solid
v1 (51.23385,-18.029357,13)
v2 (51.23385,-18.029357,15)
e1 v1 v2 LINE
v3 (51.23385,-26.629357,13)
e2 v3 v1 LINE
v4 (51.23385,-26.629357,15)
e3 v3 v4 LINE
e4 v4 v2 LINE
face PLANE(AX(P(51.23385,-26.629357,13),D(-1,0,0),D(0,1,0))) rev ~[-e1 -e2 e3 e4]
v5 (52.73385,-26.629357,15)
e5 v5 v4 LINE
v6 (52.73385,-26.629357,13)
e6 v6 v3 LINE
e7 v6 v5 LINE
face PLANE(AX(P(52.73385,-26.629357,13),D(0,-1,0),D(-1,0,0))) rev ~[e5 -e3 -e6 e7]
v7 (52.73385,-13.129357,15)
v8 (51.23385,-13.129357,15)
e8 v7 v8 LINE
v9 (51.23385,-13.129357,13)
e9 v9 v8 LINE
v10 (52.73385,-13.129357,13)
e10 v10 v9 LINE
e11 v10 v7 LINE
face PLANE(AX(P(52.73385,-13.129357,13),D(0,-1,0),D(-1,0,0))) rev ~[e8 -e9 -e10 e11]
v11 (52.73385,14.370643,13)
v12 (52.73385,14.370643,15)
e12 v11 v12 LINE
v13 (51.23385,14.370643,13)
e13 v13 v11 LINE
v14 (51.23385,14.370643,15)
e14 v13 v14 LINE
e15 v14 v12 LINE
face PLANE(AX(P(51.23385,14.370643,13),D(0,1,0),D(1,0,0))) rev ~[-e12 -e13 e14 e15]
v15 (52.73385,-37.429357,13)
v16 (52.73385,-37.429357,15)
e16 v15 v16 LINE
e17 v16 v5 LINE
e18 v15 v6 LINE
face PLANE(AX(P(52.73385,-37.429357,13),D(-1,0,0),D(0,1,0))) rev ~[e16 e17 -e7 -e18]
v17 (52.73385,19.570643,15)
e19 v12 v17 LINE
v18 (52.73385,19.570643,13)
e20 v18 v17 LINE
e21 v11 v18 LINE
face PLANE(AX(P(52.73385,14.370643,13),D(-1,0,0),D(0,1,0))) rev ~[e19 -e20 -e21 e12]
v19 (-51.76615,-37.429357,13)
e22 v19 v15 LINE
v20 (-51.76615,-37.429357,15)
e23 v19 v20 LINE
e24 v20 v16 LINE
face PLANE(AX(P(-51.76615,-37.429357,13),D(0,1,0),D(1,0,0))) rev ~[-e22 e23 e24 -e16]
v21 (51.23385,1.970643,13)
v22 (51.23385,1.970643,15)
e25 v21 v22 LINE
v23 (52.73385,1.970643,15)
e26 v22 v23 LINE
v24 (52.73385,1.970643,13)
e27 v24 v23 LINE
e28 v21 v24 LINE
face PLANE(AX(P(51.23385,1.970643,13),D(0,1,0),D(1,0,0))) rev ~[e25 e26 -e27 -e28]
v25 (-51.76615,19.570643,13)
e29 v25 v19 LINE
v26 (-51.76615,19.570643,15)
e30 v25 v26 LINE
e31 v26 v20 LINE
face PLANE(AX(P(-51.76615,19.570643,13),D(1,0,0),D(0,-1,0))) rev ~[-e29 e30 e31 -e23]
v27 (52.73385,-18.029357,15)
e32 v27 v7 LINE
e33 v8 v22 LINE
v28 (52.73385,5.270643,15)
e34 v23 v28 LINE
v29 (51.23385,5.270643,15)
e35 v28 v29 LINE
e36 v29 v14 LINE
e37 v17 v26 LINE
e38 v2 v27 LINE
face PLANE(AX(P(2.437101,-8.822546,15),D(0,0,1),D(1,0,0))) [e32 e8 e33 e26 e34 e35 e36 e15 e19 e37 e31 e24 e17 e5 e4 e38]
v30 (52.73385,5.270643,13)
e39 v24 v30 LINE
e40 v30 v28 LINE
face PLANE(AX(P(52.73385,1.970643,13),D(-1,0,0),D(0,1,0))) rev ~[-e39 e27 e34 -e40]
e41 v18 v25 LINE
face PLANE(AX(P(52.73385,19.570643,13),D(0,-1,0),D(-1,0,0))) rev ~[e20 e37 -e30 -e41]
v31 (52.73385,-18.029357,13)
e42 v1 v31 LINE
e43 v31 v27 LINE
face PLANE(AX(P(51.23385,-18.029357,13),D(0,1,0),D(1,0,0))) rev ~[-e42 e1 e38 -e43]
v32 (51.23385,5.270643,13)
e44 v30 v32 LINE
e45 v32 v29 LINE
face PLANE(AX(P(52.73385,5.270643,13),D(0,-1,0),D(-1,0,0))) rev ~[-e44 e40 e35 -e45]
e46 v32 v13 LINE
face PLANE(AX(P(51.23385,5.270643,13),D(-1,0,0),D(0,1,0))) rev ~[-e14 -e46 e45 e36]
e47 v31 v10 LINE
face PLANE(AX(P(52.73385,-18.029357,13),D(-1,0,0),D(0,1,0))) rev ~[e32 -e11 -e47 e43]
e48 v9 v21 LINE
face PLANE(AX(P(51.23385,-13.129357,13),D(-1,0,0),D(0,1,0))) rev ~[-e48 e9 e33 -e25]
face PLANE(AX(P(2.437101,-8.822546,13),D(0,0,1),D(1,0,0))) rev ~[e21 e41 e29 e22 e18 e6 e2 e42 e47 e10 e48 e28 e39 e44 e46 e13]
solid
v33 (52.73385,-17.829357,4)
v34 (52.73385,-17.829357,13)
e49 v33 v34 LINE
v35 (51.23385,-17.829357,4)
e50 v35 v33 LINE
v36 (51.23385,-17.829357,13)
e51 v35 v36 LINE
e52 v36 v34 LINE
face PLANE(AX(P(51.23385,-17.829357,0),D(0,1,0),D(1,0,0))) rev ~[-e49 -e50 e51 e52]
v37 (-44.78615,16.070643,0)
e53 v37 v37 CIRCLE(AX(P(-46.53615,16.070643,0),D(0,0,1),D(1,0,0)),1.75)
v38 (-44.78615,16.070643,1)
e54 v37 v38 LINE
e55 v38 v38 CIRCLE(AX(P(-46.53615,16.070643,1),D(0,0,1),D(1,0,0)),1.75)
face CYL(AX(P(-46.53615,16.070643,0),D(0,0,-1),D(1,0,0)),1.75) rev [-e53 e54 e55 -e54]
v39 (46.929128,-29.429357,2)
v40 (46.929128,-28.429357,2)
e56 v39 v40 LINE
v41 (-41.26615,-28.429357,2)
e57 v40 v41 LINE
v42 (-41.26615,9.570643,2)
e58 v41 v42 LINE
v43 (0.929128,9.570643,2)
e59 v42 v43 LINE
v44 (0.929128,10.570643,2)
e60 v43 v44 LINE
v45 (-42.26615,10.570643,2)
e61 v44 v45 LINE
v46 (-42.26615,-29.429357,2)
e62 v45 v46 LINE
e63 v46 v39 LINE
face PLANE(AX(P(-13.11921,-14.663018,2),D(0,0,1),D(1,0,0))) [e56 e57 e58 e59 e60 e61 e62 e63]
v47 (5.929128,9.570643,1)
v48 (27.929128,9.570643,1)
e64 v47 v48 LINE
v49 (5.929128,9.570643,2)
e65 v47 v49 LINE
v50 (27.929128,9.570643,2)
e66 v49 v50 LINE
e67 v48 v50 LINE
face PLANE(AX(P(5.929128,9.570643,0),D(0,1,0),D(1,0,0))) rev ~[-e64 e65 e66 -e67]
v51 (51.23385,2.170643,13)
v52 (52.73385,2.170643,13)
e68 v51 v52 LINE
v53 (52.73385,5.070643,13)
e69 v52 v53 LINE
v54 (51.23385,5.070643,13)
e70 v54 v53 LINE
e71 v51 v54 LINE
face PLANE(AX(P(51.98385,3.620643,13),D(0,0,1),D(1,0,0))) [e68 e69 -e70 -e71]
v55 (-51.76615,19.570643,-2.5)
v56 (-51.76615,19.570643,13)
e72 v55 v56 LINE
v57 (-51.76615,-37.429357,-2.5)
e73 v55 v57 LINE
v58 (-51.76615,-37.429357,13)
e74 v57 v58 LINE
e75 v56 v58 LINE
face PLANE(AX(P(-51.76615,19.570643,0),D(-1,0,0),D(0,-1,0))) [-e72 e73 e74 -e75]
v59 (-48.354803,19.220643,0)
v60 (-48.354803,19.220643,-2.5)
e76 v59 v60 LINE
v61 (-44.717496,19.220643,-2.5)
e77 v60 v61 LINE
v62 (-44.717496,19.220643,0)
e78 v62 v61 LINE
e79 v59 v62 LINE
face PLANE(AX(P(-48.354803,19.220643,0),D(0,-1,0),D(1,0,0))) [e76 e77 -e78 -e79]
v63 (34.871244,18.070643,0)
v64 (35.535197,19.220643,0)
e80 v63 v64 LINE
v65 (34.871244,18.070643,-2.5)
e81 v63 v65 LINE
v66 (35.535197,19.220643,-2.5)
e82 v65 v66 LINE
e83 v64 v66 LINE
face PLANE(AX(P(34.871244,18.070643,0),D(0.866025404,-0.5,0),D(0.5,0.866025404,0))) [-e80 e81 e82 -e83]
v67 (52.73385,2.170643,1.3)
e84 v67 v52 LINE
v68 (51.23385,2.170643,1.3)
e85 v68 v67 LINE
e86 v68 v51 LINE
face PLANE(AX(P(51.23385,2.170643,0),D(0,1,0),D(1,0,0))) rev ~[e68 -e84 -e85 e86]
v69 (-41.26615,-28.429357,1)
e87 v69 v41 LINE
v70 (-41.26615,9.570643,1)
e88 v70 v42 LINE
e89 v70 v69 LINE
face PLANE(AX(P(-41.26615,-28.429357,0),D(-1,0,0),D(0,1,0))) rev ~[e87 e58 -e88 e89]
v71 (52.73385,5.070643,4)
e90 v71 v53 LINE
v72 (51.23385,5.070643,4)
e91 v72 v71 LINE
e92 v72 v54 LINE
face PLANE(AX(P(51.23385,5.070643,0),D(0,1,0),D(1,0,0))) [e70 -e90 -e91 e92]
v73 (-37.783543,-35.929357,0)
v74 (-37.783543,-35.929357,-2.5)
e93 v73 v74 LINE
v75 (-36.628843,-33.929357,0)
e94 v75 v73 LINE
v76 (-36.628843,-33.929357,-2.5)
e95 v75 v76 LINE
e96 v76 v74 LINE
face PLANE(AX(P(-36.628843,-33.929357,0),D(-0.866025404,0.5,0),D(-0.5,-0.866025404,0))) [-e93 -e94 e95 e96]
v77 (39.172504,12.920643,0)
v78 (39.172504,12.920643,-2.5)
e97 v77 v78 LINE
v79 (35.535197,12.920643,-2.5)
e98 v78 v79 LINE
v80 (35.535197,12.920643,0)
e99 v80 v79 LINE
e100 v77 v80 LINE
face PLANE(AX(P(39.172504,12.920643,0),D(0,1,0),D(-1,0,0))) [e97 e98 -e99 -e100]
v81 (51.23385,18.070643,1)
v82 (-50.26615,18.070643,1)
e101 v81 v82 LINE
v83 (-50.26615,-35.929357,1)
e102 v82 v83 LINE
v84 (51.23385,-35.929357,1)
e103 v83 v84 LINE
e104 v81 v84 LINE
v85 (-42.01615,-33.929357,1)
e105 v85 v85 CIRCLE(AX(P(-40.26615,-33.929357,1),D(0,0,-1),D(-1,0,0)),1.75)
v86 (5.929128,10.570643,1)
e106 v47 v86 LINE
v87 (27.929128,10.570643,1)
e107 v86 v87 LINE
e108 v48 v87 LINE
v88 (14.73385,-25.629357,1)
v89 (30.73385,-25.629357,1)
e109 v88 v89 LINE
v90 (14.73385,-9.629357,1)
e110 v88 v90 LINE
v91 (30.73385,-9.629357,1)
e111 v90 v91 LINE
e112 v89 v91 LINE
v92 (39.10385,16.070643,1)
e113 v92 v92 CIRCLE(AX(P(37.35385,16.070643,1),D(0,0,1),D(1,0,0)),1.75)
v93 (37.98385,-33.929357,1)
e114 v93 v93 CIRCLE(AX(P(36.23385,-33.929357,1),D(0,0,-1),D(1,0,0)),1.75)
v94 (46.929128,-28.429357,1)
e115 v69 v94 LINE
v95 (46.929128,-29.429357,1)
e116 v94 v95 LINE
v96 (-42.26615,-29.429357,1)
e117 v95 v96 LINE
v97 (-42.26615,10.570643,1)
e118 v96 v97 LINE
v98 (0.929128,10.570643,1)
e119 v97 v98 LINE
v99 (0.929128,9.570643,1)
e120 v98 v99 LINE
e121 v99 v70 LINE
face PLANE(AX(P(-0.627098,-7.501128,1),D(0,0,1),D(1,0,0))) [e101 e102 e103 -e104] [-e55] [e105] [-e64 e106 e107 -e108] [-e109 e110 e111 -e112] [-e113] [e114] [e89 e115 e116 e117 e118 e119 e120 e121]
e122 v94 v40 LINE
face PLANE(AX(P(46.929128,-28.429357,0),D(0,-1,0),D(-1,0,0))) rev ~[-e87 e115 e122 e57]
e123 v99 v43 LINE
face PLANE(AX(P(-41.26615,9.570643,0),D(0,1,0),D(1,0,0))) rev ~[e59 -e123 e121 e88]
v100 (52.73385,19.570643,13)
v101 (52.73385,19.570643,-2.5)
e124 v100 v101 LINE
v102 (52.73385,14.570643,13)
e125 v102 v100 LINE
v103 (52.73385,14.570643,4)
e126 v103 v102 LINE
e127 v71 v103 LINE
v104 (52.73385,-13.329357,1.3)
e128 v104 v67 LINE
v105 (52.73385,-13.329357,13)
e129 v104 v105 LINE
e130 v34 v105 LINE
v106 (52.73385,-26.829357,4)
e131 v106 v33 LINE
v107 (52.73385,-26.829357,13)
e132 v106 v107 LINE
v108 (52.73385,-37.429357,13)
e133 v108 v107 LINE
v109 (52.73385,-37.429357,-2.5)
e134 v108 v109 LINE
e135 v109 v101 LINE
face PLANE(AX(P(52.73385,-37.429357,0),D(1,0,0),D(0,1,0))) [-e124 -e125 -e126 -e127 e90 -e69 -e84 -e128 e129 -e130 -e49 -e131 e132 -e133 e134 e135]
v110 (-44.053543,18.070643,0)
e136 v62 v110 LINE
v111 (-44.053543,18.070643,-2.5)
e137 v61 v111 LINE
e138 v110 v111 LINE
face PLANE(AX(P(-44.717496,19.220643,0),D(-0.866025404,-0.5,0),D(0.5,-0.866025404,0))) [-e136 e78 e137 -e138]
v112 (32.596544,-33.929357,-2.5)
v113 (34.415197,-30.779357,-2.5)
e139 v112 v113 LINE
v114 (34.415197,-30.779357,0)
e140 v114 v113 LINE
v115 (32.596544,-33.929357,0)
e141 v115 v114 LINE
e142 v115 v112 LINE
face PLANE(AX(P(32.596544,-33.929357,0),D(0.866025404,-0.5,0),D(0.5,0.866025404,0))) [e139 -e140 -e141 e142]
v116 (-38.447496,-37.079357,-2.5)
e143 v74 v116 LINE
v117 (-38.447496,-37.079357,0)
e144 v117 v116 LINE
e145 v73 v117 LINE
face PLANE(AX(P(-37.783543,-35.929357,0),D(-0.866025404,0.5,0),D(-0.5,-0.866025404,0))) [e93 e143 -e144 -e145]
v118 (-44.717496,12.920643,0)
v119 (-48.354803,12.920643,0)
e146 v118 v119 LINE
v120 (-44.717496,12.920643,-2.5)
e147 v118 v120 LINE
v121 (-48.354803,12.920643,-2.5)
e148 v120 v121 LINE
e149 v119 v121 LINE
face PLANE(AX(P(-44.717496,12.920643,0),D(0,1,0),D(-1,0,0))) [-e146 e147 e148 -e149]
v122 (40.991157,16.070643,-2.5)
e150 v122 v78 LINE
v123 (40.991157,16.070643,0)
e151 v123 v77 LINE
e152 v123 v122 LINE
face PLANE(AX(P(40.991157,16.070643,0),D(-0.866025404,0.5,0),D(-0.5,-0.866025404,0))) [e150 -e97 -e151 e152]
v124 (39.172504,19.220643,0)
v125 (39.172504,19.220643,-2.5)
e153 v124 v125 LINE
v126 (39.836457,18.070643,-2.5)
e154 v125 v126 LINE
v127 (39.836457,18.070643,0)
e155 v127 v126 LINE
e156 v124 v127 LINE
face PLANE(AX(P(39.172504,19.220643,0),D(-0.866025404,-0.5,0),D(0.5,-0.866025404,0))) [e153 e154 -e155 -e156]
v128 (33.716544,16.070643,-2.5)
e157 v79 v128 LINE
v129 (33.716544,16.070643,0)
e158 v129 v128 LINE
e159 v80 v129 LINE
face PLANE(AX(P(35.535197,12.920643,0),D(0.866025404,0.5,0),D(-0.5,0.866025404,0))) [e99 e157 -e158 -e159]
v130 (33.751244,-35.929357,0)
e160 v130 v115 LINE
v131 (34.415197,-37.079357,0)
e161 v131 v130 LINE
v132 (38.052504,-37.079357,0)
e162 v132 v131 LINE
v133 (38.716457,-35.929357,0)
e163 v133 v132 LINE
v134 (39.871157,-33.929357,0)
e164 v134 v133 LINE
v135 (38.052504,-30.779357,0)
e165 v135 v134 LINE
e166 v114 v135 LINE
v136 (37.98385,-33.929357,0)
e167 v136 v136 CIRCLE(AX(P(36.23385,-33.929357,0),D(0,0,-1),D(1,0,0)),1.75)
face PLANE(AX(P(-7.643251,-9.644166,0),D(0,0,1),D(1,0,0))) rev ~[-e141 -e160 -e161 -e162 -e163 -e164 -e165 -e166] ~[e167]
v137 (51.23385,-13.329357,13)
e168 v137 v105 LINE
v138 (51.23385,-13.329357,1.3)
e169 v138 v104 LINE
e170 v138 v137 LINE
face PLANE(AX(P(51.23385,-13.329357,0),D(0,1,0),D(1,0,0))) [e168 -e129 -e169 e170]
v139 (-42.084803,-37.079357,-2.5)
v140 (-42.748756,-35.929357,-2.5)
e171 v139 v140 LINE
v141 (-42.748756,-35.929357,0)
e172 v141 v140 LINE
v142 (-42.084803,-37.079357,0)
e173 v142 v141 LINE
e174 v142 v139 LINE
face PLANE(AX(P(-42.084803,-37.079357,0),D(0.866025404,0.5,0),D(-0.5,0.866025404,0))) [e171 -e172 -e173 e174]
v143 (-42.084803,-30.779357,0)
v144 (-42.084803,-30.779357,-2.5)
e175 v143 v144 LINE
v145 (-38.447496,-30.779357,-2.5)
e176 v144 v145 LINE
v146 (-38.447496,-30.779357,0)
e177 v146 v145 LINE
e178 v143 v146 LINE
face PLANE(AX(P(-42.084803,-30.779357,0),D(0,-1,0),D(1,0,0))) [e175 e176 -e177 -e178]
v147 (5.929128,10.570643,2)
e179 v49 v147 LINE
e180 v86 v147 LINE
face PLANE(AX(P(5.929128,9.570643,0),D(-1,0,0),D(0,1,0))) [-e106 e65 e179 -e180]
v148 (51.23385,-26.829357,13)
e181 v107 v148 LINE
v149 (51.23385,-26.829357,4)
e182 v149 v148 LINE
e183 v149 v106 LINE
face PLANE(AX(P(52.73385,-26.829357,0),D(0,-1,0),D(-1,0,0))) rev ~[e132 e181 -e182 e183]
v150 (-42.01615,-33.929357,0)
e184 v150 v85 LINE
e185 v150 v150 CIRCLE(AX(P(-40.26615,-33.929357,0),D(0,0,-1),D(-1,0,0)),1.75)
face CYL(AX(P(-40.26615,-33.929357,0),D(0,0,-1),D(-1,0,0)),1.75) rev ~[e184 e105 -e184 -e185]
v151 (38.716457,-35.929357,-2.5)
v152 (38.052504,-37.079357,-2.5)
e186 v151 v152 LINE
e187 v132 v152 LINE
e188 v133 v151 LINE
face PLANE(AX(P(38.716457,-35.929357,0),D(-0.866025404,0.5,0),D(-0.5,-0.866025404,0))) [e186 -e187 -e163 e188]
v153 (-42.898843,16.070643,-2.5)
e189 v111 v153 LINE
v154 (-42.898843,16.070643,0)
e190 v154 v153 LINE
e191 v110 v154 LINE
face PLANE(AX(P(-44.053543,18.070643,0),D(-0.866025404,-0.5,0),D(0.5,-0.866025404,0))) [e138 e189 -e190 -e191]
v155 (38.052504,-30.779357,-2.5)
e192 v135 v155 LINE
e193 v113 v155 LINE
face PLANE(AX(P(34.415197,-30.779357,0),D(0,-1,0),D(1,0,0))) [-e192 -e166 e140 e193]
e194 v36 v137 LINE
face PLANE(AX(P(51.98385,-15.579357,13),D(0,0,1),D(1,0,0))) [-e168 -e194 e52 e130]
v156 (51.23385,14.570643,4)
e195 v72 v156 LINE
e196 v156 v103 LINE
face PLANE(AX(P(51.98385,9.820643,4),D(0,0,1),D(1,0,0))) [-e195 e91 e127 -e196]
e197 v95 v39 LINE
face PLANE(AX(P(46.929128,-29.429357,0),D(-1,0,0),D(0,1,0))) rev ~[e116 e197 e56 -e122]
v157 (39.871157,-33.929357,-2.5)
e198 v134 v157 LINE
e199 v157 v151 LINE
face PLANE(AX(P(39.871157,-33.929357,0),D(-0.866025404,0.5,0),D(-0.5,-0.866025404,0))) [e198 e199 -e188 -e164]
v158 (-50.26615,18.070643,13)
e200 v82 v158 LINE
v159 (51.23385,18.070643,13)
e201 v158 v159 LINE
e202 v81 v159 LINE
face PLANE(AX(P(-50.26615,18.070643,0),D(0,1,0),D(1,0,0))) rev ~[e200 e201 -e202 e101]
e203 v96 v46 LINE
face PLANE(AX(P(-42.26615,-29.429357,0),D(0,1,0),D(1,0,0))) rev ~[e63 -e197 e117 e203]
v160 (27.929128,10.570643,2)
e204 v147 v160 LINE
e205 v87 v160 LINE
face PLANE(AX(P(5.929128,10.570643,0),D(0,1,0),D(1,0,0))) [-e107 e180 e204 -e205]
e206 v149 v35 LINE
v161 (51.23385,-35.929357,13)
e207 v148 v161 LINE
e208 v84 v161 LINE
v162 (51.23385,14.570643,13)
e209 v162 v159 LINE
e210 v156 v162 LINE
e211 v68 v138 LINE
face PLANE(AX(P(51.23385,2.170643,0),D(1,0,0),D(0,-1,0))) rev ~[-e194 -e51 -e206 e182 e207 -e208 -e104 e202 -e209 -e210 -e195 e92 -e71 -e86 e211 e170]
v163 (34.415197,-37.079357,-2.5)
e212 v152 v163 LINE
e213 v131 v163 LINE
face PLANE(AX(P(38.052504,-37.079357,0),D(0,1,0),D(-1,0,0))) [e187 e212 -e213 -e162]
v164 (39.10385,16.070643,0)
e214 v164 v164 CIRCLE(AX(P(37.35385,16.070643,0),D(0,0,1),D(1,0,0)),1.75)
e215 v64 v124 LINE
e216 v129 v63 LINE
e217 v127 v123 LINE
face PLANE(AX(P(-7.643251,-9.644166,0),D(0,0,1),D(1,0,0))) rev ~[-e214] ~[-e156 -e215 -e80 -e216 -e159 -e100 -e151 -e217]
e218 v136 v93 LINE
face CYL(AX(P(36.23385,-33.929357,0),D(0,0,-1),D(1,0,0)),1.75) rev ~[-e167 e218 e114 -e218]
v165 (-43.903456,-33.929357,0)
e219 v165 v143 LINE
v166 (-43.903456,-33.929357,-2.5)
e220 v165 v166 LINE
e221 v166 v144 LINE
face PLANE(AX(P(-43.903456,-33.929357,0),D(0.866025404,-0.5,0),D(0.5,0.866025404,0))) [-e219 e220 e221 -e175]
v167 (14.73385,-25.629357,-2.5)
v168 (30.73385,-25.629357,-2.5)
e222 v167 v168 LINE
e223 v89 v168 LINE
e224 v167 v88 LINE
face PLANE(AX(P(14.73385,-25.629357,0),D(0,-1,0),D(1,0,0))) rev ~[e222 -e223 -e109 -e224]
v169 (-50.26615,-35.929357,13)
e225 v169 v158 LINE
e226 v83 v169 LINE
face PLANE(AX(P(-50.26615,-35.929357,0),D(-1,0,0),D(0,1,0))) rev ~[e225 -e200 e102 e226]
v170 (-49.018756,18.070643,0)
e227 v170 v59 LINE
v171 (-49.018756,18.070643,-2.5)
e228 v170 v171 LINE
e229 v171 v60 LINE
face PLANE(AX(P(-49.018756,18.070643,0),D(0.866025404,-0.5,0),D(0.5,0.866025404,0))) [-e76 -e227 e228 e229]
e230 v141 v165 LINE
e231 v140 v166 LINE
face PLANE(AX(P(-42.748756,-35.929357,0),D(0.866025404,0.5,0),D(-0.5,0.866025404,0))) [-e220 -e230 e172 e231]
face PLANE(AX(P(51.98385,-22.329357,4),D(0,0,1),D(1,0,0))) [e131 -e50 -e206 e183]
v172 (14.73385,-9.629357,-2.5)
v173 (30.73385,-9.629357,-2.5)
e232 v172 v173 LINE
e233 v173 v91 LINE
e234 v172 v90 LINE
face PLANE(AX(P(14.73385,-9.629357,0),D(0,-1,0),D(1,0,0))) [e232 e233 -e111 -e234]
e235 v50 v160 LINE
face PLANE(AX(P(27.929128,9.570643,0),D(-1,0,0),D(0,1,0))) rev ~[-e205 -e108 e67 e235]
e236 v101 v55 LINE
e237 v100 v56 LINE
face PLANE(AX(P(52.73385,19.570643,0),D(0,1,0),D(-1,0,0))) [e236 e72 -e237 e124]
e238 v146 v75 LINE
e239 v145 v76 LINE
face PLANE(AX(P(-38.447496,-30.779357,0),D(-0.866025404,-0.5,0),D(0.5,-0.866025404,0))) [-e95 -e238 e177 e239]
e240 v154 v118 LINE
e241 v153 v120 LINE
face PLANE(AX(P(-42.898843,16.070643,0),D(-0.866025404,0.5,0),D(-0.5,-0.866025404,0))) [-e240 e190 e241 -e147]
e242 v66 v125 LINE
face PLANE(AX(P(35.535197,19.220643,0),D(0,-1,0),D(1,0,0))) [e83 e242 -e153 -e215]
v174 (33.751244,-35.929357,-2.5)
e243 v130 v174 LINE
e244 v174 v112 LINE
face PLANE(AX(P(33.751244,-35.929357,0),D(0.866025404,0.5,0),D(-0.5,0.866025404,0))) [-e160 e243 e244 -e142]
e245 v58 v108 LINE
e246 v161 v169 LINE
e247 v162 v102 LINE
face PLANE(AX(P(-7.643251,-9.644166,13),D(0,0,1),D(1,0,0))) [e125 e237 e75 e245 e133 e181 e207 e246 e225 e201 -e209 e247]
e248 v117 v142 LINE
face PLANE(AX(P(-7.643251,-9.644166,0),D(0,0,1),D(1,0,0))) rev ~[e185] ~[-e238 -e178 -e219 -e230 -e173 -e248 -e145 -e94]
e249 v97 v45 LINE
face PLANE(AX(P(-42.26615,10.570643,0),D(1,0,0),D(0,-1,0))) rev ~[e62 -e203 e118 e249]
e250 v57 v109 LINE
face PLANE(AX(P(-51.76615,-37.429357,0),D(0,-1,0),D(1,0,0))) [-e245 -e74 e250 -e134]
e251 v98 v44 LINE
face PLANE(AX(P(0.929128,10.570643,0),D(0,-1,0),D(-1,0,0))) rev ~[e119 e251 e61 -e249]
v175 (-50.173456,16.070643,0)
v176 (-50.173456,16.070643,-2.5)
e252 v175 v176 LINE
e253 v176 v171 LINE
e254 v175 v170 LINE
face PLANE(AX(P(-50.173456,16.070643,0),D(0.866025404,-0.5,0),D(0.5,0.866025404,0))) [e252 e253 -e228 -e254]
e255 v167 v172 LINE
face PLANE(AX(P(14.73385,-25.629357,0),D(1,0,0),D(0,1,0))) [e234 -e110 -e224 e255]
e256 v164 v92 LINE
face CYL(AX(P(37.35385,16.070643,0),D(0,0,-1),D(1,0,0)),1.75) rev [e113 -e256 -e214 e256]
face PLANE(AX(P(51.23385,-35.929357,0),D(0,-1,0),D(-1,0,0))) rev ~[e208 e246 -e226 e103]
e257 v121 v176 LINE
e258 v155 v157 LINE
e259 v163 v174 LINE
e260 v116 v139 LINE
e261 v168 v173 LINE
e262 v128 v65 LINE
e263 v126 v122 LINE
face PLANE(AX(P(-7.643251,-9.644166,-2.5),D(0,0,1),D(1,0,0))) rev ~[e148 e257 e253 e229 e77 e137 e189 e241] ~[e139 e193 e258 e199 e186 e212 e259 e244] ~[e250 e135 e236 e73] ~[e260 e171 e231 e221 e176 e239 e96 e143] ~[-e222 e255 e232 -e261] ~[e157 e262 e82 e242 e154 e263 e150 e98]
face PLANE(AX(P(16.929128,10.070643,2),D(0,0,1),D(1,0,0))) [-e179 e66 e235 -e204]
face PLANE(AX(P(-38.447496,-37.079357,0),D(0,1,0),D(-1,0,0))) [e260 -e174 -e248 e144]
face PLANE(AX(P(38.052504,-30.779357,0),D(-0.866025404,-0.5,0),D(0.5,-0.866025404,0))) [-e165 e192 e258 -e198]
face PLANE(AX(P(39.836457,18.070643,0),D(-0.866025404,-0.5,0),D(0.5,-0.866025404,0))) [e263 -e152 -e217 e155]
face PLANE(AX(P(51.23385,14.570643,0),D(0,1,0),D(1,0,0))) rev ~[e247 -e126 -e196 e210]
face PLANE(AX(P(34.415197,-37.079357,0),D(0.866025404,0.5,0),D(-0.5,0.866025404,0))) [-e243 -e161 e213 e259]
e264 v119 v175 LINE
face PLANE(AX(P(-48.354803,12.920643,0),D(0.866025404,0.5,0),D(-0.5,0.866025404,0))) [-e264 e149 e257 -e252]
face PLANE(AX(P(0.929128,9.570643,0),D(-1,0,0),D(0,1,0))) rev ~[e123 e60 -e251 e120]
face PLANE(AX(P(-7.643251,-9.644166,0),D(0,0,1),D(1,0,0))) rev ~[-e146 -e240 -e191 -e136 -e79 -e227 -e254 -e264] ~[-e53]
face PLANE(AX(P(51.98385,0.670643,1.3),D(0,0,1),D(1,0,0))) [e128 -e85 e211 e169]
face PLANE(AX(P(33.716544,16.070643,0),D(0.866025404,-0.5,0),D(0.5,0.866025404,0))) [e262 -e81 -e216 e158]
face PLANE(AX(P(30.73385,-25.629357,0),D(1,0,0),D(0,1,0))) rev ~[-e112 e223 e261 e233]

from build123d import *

# Parameters (mm, degrees)
F0_W     = 16
F0_H     = 16
F0_W_2   = 22
F0_H_2   = 1
F0_R     = 1.75
F1_DEPTH = 1
F2_DEPTH = 2
F0_W_3   = 1.5
F0_H_3   = 3.5
F0_H_4   = 2.9
F0_H_5   = 4.5
F3_DEPTH = 13
F0_H_6   = 9.5
F0_H_7   = 9
F4_DEPTH = 4
F0_H_8   = 3
F0_H_9   = 8
F5_DEPTH = 1.3
F6_DEPTH = 2.5
F8_DEPTH = 2


with BuildPart() as f1:
    # F0 (on Top) → F1 (new body)
    with BuildSketch(Plane.XY):
        Polygon((51.2338503599, 14.5706428699), (51.2338503599, 18.0706428699), (39.8364565174, 18.0706428699), (40.9911570558, 16.0706428699), (39.1725037079, 12.9206428699), (35.535197012, 12.9206428699), (33.716543664, 16.0706428699), (34.8712442024, 18.0706428699), (-44.0535434826, 18.0706428699), (-42.8988429442, 16.0706428699), (-44.7174962921, 12.9206428699), (-48.354802988, 12.9206428699), (-50.173456336, 16.0706428699), (-49.0187557976, 18.0706428699), (-50.2661496401, 18.0706428699), (-50.2661496401, -35.9293571301), (-42.7487557976, -35.9293571301), (-43.903456336, -33.9293571301), (-42.084802988, -30.7793571301), (-38.4474962921, -30.7793571301), (-36.6288429442, -33.9293571301), (32.596543664, -33.9293571301), (34.415197012, -30.7793571301), (38.0525037079, -30.7793571301), (39.8711570558, -33.9293571301), (51.2338503599, -33.9293571301), (51.2338503599, -26.8293571301), (51.2338503599, -17.8293571301), (51.2338503599, -13.3293571301), (51.2338503599, -8.8293571301), (51.2338503599, -0.8293571301), (51.2338503599, 2.1706428699), (51.2338503599, 5.0706428699), align=None)
        with Locations((22.7338503599, -17.6293571301)):
            Rectangle(F0_W, F0_H, mode=Mode.SUBTRACT)
        Polygon((46.9291284567, -29.4293571301), (-42.2661496401, -29.4293571301), (-42.2661496401, 10.5706428699), (0.9291284567, 10.5706428699), (0.9291284567, 9.5706428699), (-41.2661496401, 9.5706428699), (-41.2661496401, -28.4293571301), (46.9291284567, -28.4293571301), align=None, mode=Mode.SUBTRACT)
        with Locations((16.9291283151, 10.0706428699)):
            Rectangle(F0_W_2, F0_H_2, mode=Mode.SUBTRACT)
        Polygon((-42.8988429442, 16.0706428699), (-44.0535434826, 18.0706428699), (-49.0187557976, 18.0706428699), (-50.173456336, 16.0706428699), (-48.354802988, 12.9206428699), (-44.7174962921, 12.9206428699), align=None)
        with Locations((-46.5361496401, 16.0706428699)):
            Circle(F0_R, mode=Mode.SUBTRACT)
        Polygon((40.9911570558, 16.0706428699), (39.8364565174, 18.0706428699), (34.8712442024, 18.0706428699), (33.716543664, 16.0706428699), (35.535197012, 12.9206428699), (39.1725037079, 12.9206428699), align=None)
        with Locations((37.3538503599, 16.0706428699)):
            Circle(F0_R, mode=Mode.SUBTRACT)
        with BuildLine():
            Line((38.7164565174, -35.9293571301), (39.8711570558, -33.9293571301))
            Line((39.8711570558, -33.9293571301), (37.9838503599, -33.9293571301))
            ThreePointArc((37.9838503599, -33.9293571301), (36.2338503599, -35.6793571301), (34.4838503599, -33.9293571301))
            Line((34.4838503599, -33.9293571301), (32.596543664, -33.9293571301))
            Line((32.596543664, -33.9293571301), (33.7512442024, -35.9293571301))
            Line((33.7512442024, -35.9293571301), (38.7164565174, -35.9293571301))
        make_face()
        with BuildLine():
            Line((37.9838503599, -33.9293571301), (39.8711570558, -33.9293571301))
            Line((39.8711570558, -33.9293571301), (38.0525037079, -30.7793571301))
            Line((38.0525037079, -30.7793571301), (34.415197012, -30.7793571301))
            Line((34.415197012, -30.7793571301), (32.596543664, -33.9293571301))
            Line((32.596543664, -33.9293571301), (34.4838503599, -33.9293571301))
            ThreePointArc((34.4838503599, -33.9293571301), (36.2338503599, -32.1793571301), (37.9838503599, -33.9293571301))
        make_face()
        with BuildLine():
            Line((-42.7487557976, -35.9293571301), (-37.7835434826, -35.9293571301))
            Line((-37.7835434826, -35.9293571301), (-36.6288429442, -33.9293571301))
            Line((-36.6288429442, -33.9293571301), (-38.5161496401, -33.9293571301))
            ThreePointArc((-38.5161496401, -33.9293571301), (-40.2661496401, -35.6793571301), (-42.0161496401, -33.9293571301))
            Line((-42.0161496401, -33.9293571301), (-43.903456336, -33.9293571301))
            Line((-43.903456336, -33.9293571301), (-42.7487557976, -35.9293571301))
        make_face()
        with BuildLine():
            Line((-38.5161496401, -33.9293571301), (-36.6288429442, -33.9293571301))
            Line((-36.6288429442, -33.9293571301), (-38.4474962921, -30.7793571301))
            Line((-38.4474962921, -30.7793571301), (-42.084802988, -30.7793571301))
            Line((-42.084802988, -30.7793571301), (-43.903456336, -33.9293571301))
            Line((-43.903456336, -33.9293571301), (-42.0161496401, -33.9293571301))
            ThreePointArc((-42.0161496401, -33.9293571301), (-40.2661496401, -32.1793571301), (-38.5161496401, -33.9293571301))
        make_face()
        Polygon((-37.7835434826, -35.9293571301), (33.7512442024, -35.9293571301), (32.596543664, -33.9293571301), (-36.6288429442, -33.9293571301), align=None)
        Polygon((51.2338503599, -35.9293571301), (51.2338503599, -33.9293571301), (39.8711570558, -33.9293571301), (38.7164565174, -35.9293571301), align=None)
    extrude(amount=F1_DEPTH)

    # F0 (on Top) → F2 (join)
    with BuildSketch(Plane.XY):
        Polygon((-42.2661496401, 10.5706428699), (-42.2661496401, -29.4293571301), (46.9291284567, -29.4293571301), (46.9291284567, -28.4293571301), (-41.2661496401, -28.4293571301), (-41.2661496401, 9.5706428699), (0.9291284567, 9.5706428699), (0.9291284567, 10.5706428699), align=None)
        with Locations((16.9291283151, 10.0706428699)):
            Rectangle(F0_W_2, F0_H_2)
    extrude(amount=F2_DEPTH)

    # F0 (on Top) → F3 (join)
    with BuildSketch(Plane.XY):
        Polygon((52.7338503599, 19.5706428699), (-51.7661496401, 19.5706428699), (-51.7661496401, -37.4293571301), (52.7338503599, -37.4293571301), (52.7338503599, -26.8293571301), (51.2338503599, -26.8293571301), (51.2338503599, -33.9293571301), (51.2338503599, -35.9293571301), (38.7164565174, -35.9293571301), (38.0525037079, -37.0793571301), (34.415197012, -37.0793571301), (33.7512442024, -35.9293571301), (-37.7835434826, -35.9293571301), (-38.4474962921, -37.0793571301), (-42.084802988, -37.0793571301), (-42.7487557976, -35.9293571301), (-50.2661496401, -35.9293571301), (-50.2661496401, 18.0706428699), (-49.0187557976, 18.0706428699), (-48.354802988, 19.2206428699), (-44.7174962921, 19.2206428699), (-44.0535434826, 18.0706428699), (34.8712442024, 18.0706428699), (35.535197012, 19.2206428699), (39.1725037079, 19.2206428699), (39.8364565174, 18.0706428699), (51.2338503599, 18.0706428699), (52.7338503599, 18.0706428699), align=None)
        with Locations((51.9838503599, 16.3206428699)):
            Rectangle(F0_W_3, F0_H_3)
        with Locations((51.9838503599, 3.6206428699)):
            Rectangle(F0_W_3, F0_H_4)
        with Locations((51.9838503599, -15.5793571301)):
            Rectangle(F0_W_3, F0_H_5)
        Polygon((38.0525037079, -37.0793571301), (38.7164565174, -35.9293571301), (33.7512442024, -35.9293571301), (34.415197012, -37.0793571301), align=None)
        Polygon((-38.4474962921, -37.0793571301), (-37.7835434826, -35.9293571301), (-42.7487557976, -35.9293571301), (-42.084802988, -37.0793571301), align=None)
        Polygon((34.8712442024, 18.0706428699), (39.8364565174, 18.0706428699), (39.1725037079, 19.2206428699), (35.535197012, 19.2206428699), align=None)
        Polygon((-49.0187557976, 18.0706428699), (-44.0535434826, 18.0706428699), (-44.7174962921, 19.2206428699), (-48.354802988, 19.2206428699), align=None)
    extrude(amount=F3_DEPTH)

    # F0 (on Top) → F4 (join)
    with BuildSketch(Plane.XY):
        with Locations((51.9838503599, 9.8206428699)):
            Rectangle(F0_W_3, F0_H_6)
        with Locations((51.9838503599, -22.3293571301)):
            Rectangle(F0_W_3, F0_H_7)
    extrude(amount=F4_DEPTH)

    # F0 (on Top) → F5 (join)
    with BuildSketch(Plane.XY):
        with Locations((51.9838503599, 0.6706428699)):
            Rectangle(F0_W_3, F0_H_8)
        with Locations((51.9838503599, -4.8293571301)):
            Rectangle(F0_W_3, F0_H_9)
        with Locations((51.9838503599, -11.0793571301)):
            Rectangle(F0_W_3, F0_H_5)
    extrude(amount=F5_DEPTH)

    # F0 (on Top) → F6 (join)
    with BuildSketch(Plane.XY):
        Polygon((52.7338503599, 19.5706428699), (-51.7661496401, 19.5706428699), (-51.7661496401, -37.4293571301), (52.7338503599, -37.4293571301), (52.7338503599, -26.8293571301), (51.2338503599, -26.8293571301), (51.2338503599, -33.9293571301), (51.2338503599, -35.9293571301), (38.7164565174, -35.9293571301), (38.0525037079, -37.0793571301), (34.415197012, -37.0793571301), (33.7512442024, -35.9293571301), (-37.7835434826, -35.9293571301), (-38.4474962921, -37.0793571301), (-42.084802988, -37.0793571301), (-42.7487557976, -35.9293571301), (-50.2661496401, -35.9293571301), (-50.2661496401, 18.0706428699), (-49.0187557976, 18.0706428699), (-48.354802988, 19.2206428699), (-44.7174962921, 19.2206428699), (-44.0535434826, 18.0706428699), (34.8712442024, 18.0706428699), (35.535197012, 19.2206428699), (39.1725037079, 19.2206428699), (39.8364565174, 18.0706428699), (51.2338503599, 18.0706428699), (52.7338503599, 18.0706428699), align=None)
        with Locations((51.9838503599, 16.3206428699)):
            Rectangle(F0_W_3, F0_H_3)
        with Locations((51.9838503599, 9.8206428699)):
            Rectangle(F0_W_3, F0_H_6)
        with Locations((51.9838503599, 3.6206428699)):
            Rectangle(F0_W_3, F0_H_4)
        with Locations((51.9838503599, 0.6706428699)):
            Rectangle(F0_W_3, F0_H_8)
        with Locations((51.9838503599, -4.8293571301)):
            Rectangle(F0_W_3, F0_H_9)
        with Locations((51.9838503599, -11.0793571301)):
            Rectangle(F0_W_3, F0_H_5)
        with Locations((51.9838503599, -15.5793571301)):
            Rectangle(F0_W_3, F0_H_5)
        with Locations((51.9838503599, -22.3293571301)):
            Rectangle(F0_W_3, F0_H_7)
        Polygon((51.2338503599, -35.9293571301), (51.2338503599, -33.9293571301), (39.8711570558, -33.9293571301), (38.7164565174, -35.9293571301), align=None)
        Polygon((-37.7835434826, -35.9293571301), (33.7512442024, -35.9293571301), (32.596543664, -33.9293571301), (-36.6288429442, -33.9293571301), align=None)
        Polygon((51.2338503599, 14.5706428699), (51.2338503599, 18.0706428699), (39.8364565174, 18.0706428699), (40.9911570558, 16.0706428699), (39.1725037079, 12.9206428699), (35.535197012, 12.9206428699), (33.716543664, 16.0706428699), (34.8712442024, 18.0706428699), (-44.0535434826, 18.0706428699), (-42.8988429442, 16.0706428699), (-44.7174962921, 12.9206428699), (-48.354802988, 12.9206428699), (-50.173456336, 16.0706428699), (-49.0187557976, 18.0706428699), (-50.2661496401, 18.0706428699), (-50.2661496401, -35.9293571301), (-42.7487557976, -35.9293571301), (-43.903456336, -33.9293571301), (-42.084802988, -30.7793571301), (-38.4474962921, -30.7793571301), (-36.6288429442, -33.9293571301), (32.596543664, -33.9293571301), (34.415197012, -30.7793571301), (38.0525037079, -30.7793571301), (39.8711570558, -33.9293571301), (51.2338503599, -33.9293571301), (51.2338503599, -26.8293571301), (51.2338503599, -17.8293571301), (51.2338503599, -13.3293571301), (51.2338503599, -8.8293571301), (51.2338503599, -0.8293571301), (51.2338503599, 2.1706428699), (51.2338503599, 5.0706428699), align=None)
        with Locations((22.7338503599, -17.6293571301)):
            Rectangle(F0_W, F0_H, mode=Mode.SUBTRACT)
        Polygon((46.9291284567, -29.4293571301), (-42.2661496401, -29.4293571301), (-42.2661496401, 10.5706428699), (0.9291284567, 10.5706428699), (0.9291284567, 9.5706428699), (-41.2661496401, 9.5706428699), (-41.2661496401, -28.4293571301), (46.9291284567, -28.4293571301), align=None, mode=Mode.SUBTRACT)
        with Locations((16.9291283151, 10.0706428699)):
            Rectangle(F0_W_2, F0_H_2, mode=Mode.SUBTRACT)
        with Locations((16.9291283151, 10.0706428699)):
            Rectangle(F0_W_2, F0_H_2)
        Polygon((-42.2661496401, 10.5706428699), (-42.2661496401, -29.4293571301), (46.9291284567, -29.4293571301), (46.9291284567, -28.4293571301), (-41.2661496401, -28.4293571301), (-41.2661496401, 9.5706428699), (0.9291284567, 9.5706428699), (0.9291284567, 10.5706428699), align=None)
    extrude(amount=-F6_DEPTH)


with BuildPart() as f8:
    # F7 (on face) → F8 (new body)
    with BuildSketch(Plane.XY.offset(13)):
        Polygon((52.7338503599, 14.3706428699), (52.7338503599, 14.5706428699), (51.2338503599, 14.5706428699), (51.2338503599, 18.0706428699), (-50.2661496401, 18.0706428699), (-50.2661496401, -35.9293571301), (51.2338503599, -35.9293571301), (51.2338503599, -26.8293571301), (52.7338503599, -26.8293571301), (52.7338503599, -26.6293571301), (51.2338503599, -26.6293571301), (51.2338503599, -18.0293571301), (52.7338503599, -18.0293571301), (52.7338503599, -13.1293571301), (51.2338503599, -13.1293571301), (51.2338503599, 1.9706428699), (52.7338503599, 1.9706428699), (52.7338503599, 5.2706428699), (51.2338503599, 5.2706428699), (51.2338503599, 14.3706428699), align=None)
        Polygon((52.7338503599, 19.5706428699), (-51.7661496401, 19.5706428699), (-51.7661496401, -37.4293571301), (52.7338503599, -37.4293571301), (52.7338503599, -26.8293571301), (51.2338503599, -26.8293571301), (51.2338503599, -35.9293571301), (-50.2661496401, -35.9293571301), (-50.2661496401, 18.0706428699), (51.2338503599, 18.0706428699), (51.2338503599, 14.5706428699), (52.7338503599, 14.5706428699), align=None)
    extrude(amount=F8_DEPTH)


solid = Compound([f1.part, f8.part])
